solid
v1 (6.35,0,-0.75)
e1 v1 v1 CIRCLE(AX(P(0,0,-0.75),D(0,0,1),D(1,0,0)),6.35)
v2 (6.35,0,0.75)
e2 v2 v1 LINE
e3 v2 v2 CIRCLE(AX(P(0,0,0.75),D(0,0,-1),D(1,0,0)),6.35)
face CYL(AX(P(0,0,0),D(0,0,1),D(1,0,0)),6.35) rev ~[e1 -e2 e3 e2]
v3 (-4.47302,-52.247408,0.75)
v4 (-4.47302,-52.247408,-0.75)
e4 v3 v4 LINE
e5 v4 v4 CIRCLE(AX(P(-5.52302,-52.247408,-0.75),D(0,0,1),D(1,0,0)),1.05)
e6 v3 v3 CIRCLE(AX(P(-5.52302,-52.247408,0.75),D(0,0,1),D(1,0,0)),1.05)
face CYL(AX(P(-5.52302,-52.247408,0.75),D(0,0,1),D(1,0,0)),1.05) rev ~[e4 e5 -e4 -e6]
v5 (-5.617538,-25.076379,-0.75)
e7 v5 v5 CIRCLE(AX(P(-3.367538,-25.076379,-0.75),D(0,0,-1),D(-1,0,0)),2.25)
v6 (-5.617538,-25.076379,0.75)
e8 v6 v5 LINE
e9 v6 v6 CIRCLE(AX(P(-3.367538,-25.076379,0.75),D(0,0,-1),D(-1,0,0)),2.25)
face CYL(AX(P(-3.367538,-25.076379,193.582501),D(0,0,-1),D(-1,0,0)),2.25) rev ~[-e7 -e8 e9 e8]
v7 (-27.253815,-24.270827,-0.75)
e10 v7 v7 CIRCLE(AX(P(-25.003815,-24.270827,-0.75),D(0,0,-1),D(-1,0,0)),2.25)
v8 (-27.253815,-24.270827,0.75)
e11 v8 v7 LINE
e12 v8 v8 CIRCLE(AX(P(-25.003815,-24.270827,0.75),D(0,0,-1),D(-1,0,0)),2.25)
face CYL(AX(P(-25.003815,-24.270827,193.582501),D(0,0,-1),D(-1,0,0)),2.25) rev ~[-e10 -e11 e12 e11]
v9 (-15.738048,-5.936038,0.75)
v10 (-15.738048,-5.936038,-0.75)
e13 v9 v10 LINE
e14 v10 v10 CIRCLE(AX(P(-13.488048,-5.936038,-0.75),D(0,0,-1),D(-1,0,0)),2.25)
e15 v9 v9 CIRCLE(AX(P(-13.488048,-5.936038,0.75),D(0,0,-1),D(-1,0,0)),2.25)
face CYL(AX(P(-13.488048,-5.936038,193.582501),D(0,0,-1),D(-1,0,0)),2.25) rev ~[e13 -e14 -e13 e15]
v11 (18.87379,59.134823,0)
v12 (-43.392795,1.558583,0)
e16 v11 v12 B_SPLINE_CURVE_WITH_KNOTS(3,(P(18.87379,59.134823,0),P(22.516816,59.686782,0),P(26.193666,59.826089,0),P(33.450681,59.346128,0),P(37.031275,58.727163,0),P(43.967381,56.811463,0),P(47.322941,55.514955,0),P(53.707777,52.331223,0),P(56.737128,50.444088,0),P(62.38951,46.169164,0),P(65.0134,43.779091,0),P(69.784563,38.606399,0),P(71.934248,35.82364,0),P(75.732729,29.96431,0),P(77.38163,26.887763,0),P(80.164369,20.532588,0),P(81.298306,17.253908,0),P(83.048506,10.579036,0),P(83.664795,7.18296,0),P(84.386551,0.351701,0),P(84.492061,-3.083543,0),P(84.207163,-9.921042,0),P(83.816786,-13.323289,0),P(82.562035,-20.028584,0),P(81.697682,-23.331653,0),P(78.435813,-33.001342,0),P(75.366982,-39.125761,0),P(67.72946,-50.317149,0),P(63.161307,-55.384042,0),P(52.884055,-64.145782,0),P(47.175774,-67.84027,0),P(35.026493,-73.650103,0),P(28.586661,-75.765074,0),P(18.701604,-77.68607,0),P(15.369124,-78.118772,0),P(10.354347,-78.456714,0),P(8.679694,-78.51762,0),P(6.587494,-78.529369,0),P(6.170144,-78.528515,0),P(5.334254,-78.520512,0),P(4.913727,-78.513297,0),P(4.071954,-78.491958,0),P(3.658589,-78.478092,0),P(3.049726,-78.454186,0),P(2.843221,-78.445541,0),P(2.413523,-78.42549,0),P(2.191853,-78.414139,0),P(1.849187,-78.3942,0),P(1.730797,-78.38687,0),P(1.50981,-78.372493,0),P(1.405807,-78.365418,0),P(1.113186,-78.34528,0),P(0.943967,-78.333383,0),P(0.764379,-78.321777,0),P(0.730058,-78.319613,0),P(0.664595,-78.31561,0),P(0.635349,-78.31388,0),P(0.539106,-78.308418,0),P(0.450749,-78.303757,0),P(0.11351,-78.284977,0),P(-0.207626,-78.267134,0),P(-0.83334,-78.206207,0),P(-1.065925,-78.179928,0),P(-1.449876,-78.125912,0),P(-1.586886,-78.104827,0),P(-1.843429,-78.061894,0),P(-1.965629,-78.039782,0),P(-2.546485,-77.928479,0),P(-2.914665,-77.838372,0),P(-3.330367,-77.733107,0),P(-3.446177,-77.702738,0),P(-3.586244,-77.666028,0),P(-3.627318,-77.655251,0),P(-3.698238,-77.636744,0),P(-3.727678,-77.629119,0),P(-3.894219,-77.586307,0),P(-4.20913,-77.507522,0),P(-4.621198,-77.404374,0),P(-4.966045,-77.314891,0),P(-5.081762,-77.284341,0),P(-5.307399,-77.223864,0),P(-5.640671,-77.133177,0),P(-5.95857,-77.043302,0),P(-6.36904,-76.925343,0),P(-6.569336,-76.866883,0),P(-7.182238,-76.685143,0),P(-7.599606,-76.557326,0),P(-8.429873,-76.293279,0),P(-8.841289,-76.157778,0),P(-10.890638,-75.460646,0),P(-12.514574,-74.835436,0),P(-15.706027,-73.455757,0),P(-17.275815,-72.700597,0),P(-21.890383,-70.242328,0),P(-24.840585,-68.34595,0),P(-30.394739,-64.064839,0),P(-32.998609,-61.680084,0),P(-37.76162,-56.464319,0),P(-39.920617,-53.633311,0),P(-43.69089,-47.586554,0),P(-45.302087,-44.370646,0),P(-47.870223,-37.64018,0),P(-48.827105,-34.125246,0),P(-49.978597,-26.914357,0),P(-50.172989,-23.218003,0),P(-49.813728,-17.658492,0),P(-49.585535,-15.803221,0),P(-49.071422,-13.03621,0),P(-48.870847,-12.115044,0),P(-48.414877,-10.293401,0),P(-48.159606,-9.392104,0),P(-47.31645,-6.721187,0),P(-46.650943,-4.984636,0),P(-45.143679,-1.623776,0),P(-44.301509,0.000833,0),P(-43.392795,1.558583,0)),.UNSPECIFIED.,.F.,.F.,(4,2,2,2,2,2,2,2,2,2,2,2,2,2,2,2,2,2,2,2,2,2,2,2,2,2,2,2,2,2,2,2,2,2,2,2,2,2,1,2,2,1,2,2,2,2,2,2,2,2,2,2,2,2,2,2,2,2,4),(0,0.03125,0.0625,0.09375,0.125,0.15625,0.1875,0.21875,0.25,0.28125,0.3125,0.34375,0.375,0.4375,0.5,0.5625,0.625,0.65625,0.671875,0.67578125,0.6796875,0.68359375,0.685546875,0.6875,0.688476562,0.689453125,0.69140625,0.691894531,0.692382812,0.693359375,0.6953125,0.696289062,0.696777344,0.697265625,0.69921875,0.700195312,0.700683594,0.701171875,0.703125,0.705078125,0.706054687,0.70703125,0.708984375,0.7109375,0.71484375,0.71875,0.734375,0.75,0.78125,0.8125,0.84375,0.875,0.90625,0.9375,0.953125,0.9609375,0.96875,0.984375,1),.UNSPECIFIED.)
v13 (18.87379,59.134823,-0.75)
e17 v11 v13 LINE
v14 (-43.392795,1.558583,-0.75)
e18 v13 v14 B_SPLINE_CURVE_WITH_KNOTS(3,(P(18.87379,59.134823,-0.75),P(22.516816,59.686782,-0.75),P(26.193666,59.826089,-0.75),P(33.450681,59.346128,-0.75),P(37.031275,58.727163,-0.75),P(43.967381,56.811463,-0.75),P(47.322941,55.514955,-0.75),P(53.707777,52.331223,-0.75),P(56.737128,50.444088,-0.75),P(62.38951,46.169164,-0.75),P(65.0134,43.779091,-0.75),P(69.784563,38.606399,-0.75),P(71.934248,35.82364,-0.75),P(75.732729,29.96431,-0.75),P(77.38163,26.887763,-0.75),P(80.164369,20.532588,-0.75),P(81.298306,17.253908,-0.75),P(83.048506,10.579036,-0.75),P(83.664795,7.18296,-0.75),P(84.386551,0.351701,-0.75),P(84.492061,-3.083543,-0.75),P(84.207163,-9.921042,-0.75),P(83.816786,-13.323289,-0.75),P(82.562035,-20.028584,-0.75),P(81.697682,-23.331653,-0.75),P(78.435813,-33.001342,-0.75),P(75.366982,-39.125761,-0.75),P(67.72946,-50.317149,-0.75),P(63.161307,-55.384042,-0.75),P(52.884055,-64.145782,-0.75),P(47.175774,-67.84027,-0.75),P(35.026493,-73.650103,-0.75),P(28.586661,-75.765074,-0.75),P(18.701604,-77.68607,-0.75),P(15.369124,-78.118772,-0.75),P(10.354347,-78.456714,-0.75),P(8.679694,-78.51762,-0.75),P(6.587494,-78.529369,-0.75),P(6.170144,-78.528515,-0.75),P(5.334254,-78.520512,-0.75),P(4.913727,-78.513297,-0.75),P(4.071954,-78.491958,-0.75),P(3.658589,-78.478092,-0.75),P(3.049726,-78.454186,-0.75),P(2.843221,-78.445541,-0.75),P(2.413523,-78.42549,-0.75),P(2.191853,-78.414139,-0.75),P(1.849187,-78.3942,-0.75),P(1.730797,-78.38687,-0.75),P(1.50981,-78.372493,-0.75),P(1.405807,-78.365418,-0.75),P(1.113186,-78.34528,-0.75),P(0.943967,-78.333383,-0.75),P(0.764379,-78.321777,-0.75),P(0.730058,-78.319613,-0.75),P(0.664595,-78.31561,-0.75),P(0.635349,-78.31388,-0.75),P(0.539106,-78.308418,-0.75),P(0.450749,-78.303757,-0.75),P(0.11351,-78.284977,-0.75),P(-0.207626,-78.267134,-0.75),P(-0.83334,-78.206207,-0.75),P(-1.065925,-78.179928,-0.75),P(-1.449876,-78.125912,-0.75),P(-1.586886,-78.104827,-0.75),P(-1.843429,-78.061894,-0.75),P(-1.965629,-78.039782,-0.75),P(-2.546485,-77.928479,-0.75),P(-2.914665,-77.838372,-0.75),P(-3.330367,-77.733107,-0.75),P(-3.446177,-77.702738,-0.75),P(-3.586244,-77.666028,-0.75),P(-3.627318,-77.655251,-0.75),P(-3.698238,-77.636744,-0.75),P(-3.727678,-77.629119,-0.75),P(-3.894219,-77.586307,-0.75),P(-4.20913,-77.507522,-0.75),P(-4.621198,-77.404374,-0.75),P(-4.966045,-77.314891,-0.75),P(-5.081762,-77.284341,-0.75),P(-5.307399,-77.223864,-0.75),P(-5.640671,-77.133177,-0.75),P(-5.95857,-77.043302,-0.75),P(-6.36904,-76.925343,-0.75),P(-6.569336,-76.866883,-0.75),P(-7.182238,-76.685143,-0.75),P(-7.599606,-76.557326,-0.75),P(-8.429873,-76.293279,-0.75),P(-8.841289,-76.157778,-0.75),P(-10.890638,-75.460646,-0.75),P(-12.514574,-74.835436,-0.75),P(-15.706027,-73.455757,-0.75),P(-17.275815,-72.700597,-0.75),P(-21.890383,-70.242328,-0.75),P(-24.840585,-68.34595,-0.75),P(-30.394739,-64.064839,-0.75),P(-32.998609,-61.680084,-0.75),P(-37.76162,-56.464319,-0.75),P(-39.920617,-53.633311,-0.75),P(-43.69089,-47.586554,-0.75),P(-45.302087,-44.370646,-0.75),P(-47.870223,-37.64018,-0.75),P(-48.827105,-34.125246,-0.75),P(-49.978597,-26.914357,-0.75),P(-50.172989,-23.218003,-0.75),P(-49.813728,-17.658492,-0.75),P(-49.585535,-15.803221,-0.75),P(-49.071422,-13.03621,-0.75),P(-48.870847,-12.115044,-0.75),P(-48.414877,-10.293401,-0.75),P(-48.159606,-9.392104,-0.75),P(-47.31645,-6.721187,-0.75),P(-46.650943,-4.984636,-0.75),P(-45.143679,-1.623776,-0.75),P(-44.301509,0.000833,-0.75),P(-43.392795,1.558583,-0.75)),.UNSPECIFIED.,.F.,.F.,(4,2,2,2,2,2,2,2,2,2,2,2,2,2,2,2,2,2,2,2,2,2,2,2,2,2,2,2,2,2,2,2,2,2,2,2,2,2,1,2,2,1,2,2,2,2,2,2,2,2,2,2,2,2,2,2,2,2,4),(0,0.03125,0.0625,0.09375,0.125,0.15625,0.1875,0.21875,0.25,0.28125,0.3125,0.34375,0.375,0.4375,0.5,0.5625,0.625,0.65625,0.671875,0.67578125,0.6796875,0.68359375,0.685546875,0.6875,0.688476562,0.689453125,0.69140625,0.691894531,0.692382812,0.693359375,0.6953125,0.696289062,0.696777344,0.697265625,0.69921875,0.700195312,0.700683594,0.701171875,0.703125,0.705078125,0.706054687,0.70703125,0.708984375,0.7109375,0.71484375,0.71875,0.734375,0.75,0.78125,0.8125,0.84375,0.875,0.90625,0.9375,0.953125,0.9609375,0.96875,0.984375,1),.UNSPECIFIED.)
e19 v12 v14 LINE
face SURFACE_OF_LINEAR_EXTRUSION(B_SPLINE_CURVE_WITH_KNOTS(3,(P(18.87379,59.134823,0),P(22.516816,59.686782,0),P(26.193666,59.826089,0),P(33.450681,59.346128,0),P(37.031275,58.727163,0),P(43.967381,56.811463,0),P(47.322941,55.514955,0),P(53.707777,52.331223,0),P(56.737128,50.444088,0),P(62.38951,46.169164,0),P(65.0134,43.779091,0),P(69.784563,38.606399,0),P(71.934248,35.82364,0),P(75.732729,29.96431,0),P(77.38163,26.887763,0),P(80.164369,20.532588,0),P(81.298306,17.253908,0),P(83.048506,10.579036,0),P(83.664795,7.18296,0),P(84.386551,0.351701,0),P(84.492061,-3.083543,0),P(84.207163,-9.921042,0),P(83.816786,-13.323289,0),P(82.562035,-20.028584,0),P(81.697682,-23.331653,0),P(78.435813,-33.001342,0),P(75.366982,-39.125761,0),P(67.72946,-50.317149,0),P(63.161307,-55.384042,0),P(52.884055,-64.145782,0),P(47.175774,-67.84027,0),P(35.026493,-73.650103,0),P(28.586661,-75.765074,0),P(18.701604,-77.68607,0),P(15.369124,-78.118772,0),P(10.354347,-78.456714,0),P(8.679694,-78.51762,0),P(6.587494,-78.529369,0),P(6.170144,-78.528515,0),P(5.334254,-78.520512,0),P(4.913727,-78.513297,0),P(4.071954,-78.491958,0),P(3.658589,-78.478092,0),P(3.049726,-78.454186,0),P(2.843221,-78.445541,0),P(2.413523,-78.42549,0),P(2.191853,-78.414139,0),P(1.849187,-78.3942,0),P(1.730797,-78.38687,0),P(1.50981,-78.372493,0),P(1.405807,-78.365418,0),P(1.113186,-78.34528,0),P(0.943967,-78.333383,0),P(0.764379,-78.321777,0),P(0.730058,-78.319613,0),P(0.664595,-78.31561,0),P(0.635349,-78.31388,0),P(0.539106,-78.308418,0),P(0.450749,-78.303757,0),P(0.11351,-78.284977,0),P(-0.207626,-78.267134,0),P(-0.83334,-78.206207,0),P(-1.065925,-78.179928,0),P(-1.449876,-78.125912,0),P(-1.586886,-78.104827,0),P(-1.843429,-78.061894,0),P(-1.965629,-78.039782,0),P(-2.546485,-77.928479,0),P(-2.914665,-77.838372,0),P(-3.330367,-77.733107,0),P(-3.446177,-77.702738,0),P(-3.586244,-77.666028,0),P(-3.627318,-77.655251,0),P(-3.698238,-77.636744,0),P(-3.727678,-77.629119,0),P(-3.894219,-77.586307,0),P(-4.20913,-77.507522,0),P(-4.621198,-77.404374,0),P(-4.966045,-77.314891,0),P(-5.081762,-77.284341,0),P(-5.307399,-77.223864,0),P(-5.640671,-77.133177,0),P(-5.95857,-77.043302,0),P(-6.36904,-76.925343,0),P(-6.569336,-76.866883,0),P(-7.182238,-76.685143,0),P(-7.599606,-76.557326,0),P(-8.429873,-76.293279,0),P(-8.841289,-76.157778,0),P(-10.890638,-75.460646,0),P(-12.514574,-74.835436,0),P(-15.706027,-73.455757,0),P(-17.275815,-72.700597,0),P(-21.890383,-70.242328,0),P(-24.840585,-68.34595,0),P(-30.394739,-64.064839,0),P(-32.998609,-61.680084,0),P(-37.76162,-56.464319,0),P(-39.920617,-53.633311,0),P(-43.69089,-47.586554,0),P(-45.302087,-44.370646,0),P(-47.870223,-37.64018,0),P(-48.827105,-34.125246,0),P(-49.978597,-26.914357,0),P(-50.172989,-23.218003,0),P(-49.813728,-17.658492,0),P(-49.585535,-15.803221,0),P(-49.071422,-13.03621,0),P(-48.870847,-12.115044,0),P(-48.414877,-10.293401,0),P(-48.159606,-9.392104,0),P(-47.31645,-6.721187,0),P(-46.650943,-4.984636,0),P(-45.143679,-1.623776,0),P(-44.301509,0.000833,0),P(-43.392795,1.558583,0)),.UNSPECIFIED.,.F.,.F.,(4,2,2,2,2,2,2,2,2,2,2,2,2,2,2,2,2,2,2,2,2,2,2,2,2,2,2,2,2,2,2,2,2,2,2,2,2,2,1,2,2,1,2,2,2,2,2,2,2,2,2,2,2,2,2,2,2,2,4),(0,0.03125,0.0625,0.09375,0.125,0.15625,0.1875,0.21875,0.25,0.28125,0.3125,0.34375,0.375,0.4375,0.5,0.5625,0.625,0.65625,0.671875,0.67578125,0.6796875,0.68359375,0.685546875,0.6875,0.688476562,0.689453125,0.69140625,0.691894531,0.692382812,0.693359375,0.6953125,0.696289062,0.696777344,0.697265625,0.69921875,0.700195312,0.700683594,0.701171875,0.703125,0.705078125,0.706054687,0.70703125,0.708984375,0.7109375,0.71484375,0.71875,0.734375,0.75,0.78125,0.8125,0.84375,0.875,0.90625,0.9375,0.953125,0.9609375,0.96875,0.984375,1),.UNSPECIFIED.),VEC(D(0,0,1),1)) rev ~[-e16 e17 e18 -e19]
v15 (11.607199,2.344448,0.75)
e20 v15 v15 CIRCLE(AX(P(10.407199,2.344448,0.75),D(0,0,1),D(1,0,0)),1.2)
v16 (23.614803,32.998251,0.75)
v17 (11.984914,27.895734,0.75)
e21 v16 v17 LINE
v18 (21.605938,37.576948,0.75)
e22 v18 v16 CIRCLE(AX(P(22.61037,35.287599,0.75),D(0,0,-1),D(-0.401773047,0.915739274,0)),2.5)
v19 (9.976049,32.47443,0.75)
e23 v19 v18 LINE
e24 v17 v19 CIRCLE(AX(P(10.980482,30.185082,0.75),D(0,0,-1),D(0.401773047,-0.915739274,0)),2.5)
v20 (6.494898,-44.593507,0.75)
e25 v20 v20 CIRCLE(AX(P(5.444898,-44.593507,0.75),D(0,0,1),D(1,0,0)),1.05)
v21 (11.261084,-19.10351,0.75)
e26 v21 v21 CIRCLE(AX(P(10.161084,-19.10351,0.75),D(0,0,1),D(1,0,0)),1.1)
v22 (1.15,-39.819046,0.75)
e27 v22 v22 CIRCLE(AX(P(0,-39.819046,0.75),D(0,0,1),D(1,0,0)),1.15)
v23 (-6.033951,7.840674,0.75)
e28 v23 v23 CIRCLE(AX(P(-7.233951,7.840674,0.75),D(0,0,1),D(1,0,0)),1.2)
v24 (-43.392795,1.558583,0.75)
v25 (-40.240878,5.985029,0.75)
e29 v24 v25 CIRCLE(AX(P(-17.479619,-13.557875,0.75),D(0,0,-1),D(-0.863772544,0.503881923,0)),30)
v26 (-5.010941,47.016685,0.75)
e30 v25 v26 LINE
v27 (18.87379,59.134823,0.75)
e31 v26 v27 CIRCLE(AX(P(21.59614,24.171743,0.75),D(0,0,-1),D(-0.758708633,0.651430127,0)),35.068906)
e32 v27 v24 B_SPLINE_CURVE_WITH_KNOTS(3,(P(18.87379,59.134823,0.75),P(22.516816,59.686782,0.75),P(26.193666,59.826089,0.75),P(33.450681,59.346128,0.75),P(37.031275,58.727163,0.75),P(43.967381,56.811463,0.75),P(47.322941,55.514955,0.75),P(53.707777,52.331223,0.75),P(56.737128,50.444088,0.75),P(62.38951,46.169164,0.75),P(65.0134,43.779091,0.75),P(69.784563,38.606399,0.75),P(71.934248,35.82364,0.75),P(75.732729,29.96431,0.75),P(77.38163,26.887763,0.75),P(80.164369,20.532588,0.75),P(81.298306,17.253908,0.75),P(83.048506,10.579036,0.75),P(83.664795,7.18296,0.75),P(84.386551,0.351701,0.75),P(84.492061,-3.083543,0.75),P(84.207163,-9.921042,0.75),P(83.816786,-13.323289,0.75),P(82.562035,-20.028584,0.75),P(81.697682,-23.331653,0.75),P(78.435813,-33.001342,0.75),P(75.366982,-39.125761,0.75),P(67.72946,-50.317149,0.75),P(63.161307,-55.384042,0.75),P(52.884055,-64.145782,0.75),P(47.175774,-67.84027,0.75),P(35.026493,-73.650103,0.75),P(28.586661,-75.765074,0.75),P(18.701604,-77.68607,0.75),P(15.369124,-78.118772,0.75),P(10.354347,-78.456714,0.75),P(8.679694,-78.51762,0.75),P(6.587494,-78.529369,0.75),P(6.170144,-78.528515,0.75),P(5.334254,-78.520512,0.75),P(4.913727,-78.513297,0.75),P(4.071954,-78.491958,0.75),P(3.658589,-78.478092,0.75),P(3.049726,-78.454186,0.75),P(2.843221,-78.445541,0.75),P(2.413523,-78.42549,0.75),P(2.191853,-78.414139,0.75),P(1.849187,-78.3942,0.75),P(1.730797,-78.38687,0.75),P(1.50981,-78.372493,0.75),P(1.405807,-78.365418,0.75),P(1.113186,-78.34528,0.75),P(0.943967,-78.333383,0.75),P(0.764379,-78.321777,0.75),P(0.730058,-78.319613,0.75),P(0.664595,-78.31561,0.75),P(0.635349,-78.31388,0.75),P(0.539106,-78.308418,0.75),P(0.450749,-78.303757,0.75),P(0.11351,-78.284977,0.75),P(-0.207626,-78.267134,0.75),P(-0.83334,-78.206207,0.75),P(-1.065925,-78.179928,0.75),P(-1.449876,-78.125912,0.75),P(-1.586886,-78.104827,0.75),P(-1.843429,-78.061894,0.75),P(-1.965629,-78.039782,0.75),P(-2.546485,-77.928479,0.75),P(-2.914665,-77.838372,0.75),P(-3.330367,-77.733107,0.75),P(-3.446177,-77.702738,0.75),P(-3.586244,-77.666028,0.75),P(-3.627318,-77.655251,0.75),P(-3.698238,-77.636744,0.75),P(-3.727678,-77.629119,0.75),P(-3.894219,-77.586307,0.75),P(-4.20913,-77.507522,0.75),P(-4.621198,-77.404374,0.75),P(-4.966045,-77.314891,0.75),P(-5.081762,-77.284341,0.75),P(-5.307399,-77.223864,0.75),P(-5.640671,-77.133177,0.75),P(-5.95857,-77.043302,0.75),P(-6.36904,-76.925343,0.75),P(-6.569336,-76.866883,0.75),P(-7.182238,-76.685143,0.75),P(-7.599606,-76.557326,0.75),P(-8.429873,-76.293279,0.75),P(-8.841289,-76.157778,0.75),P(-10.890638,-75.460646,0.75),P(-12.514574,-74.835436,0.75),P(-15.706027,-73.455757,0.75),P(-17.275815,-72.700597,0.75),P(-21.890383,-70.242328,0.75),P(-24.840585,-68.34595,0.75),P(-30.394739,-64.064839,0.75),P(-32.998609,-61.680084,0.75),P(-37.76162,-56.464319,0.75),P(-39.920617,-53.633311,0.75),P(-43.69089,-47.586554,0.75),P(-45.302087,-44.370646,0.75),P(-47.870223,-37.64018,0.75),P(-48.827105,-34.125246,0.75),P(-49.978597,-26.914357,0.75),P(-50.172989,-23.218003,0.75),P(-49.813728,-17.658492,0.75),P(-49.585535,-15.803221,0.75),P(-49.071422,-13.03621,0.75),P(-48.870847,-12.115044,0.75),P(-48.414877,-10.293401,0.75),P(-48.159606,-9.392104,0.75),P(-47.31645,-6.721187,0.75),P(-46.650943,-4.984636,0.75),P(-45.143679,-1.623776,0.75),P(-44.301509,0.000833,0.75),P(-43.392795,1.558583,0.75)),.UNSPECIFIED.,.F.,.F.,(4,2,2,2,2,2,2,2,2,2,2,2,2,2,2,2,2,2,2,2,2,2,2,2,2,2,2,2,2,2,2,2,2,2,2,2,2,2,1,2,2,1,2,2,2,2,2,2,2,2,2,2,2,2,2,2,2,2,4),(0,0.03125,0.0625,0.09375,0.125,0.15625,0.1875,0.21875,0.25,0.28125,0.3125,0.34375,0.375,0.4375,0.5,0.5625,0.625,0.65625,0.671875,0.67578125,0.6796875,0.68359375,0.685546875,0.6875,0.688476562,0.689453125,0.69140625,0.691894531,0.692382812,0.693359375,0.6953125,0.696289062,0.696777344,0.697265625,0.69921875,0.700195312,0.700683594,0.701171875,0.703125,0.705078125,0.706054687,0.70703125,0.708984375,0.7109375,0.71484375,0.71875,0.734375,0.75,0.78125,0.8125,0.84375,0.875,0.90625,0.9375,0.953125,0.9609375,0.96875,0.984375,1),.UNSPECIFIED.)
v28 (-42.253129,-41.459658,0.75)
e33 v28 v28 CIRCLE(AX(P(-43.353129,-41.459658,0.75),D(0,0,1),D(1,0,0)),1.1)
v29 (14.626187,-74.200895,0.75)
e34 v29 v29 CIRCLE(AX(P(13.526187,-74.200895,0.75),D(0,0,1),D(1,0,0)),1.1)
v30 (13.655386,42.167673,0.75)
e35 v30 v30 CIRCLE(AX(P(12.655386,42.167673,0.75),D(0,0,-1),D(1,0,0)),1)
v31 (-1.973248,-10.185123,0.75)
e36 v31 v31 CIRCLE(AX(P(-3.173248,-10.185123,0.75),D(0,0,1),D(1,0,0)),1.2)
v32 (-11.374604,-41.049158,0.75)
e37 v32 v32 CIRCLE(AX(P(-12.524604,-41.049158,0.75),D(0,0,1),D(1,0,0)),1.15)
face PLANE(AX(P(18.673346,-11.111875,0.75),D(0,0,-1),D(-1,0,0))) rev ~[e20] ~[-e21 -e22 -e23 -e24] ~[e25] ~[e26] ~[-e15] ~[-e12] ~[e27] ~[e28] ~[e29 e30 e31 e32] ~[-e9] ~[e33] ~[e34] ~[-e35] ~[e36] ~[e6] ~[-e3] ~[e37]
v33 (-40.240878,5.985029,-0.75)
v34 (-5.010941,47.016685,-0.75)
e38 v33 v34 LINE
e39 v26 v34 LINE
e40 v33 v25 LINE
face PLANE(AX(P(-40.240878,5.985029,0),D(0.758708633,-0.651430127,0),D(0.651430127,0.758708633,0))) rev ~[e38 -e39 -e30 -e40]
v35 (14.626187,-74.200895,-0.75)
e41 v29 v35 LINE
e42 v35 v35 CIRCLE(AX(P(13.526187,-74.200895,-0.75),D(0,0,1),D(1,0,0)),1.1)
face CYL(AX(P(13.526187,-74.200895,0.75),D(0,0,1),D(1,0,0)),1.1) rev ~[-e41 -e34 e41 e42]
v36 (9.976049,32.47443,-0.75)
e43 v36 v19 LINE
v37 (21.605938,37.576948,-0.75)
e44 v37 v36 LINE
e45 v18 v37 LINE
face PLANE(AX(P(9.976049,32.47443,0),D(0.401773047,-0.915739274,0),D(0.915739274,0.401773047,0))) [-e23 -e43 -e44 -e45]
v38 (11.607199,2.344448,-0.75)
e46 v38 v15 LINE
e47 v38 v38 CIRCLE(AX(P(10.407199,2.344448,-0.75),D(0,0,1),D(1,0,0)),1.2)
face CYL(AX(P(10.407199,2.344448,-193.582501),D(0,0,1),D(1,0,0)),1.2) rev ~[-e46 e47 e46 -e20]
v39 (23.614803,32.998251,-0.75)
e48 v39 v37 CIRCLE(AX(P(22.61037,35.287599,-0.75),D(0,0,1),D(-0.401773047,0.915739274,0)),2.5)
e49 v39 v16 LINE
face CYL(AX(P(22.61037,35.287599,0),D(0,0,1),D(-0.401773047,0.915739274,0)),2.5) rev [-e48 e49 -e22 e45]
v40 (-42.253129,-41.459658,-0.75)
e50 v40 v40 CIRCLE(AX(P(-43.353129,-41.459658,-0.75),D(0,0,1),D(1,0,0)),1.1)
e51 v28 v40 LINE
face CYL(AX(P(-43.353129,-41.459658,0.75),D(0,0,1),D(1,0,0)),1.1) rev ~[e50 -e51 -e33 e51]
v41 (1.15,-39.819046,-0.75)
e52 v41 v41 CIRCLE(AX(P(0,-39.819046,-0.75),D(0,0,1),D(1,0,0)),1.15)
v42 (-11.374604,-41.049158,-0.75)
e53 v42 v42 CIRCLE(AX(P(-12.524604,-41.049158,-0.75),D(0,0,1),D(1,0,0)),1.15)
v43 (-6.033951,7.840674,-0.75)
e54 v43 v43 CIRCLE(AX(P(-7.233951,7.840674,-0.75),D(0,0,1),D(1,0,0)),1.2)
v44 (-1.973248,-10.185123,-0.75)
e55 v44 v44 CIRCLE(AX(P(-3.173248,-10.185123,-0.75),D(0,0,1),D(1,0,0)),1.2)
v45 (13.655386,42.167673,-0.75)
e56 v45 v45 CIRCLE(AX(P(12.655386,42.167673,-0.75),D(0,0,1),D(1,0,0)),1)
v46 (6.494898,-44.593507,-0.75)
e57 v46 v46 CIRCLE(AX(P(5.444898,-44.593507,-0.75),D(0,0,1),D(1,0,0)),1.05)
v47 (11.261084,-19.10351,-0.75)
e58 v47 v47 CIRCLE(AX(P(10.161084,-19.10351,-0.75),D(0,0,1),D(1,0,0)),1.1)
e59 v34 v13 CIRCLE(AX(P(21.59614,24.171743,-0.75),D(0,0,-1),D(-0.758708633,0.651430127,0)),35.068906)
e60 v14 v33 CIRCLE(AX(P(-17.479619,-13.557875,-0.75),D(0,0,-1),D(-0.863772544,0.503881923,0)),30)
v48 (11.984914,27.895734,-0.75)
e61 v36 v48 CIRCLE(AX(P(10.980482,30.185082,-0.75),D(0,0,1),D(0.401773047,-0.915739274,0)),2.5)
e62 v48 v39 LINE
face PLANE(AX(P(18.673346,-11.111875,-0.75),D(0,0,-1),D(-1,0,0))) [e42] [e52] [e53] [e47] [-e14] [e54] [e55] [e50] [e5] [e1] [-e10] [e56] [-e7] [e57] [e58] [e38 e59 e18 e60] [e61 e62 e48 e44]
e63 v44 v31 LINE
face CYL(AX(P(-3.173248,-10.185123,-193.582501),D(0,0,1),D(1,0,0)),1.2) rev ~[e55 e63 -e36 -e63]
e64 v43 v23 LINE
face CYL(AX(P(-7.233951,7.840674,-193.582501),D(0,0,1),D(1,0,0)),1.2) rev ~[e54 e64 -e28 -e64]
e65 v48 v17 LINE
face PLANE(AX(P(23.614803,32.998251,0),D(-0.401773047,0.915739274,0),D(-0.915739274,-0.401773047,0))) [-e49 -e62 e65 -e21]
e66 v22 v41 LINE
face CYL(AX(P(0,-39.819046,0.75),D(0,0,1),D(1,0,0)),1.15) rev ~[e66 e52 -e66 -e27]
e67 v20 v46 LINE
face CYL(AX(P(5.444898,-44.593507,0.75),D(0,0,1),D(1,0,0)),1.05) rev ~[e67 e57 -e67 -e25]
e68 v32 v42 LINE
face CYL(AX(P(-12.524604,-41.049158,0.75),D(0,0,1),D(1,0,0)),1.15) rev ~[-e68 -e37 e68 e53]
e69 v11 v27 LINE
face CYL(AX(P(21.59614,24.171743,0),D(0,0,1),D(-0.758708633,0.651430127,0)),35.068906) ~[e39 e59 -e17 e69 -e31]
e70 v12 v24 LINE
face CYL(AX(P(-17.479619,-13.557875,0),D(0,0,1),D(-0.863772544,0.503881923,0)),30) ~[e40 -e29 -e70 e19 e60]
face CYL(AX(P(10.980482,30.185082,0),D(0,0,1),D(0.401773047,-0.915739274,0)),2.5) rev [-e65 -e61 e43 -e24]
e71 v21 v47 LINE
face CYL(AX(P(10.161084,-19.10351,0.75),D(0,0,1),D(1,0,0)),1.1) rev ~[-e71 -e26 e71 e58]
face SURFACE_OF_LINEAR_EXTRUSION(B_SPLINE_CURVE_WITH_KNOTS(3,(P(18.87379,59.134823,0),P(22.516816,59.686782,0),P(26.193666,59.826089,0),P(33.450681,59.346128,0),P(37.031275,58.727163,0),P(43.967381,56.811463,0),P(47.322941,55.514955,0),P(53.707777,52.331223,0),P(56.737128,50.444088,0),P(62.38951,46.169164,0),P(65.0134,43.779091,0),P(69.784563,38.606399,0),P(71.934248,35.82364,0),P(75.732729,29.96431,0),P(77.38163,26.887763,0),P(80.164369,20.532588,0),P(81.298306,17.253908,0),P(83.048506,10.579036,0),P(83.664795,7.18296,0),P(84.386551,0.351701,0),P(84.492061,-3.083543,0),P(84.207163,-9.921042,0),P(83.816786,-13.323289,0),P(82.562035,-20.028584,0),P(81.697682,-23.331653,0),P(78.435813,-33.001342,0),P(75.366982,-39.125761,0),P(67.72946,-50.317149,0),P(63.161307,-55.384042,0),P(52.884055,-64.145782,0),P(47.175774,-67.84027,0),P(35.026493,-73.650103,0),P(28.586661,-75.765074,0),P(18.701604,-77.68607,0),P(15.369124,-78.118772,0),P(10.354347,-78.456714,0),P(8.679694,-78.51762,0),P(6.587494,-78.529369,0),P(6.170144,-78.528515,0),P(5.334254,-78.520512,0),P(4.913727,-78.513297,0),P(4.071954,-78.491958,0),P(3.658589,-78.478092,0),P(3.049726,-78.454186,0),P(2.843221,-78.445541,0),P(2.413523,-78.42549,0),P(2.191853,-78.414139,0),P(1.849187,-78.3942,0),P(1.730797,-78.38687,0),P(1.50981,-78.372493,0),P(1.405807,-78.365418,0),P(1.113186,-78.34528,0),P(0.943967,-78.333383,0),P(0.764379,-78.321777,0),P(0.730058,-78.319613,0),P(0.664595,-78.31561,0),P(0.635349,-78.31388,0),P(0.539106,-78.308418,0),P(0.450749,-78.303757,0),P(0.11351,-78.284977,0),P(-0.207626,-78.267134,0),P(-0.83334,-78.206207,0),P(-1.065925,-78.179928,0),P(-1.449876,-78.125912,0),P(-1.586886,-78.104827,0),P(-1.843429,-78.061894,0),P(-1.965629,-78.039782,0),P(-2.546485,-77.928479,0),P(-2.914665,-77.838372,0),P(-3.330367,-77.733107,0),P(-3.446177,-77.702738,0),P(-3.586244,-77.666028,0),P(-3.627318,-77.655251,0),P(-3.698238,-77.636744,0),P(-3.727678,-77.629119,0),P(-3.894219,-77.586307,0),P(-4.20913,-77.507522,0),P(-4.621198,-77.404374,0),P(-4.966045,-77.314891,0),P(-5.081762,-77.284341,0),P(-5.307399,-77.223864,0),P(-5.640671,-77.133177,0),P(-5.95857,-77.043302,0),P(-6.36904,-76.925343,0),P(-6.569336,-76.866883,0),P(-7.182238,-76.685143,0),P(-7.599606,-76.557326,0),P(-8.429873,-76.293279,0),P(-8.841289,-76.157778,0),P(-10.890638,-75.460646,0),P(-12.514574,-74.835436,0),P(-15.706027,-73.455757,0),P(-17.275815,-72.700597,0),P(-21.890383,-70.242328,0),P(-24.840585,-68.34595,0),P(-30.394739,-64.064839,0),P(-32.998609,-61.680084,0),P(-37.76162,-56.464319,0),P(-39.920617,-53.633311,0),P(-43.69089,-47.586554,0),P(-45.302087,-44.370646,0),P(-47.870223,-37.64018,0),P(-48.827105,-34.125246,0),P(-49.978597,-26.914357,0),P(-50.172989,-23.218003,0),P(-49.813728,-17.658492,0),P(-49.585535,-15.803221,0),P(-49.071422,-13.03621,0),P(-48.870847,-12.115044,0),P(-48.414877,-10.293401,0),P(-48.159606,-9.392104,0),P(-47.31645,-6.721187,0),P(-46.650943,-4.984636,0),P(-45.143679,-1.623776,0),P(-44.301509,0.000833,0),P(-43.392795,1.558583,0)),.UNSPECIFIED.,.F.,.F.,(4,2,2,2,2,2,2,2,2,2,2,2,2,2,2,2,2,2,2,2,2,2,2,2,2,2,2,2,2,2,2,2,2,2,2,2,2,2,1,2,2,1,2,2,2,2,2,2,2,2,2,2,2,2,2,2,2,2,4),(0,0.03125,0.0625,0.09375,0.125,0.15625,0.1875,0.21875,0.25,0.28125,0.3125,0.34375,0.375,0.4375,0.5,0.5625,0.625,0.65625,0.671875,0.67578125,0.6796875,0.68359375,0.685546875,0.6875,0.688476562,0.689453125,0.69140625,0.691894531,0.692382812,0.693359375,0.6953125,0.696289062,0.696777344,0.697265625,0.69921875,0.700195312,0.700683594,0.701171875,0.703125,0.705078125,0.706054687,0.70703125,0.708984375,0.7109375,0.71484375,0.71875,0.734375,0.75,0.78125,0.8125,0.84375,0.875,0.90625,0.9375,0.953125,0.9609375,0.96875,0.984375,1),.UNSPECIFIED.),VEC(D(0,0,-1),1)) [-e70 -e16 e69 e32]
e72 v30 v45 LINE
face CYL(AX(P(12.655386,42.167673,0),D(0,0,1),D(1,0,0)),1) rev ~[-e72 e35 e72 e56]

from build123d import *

# Parameters (mm, degrees)
SKETCH1_R               = 6.35
BOSS_EXTRUDE1_DEPTH     = 0.75
CUT_EXTRUDE1_DEPTH      = 102.161590478
CUT_EXTRUDE1_DEPTH_BACK = 102.161590478
FILLET1_R               = 20
BOSS_EXTRUDE2_DEPTH     = 0.75
SKETCH7_R               = 6.35
SKETCH7_R_2             = 3.175
BOSS_EXTRUDE3_DEPTH     = 0.75
SKETCH8_R               = 1
SKETCH8_R_2             = 6.35
CUT_EXTRUDE2_DEPTH      = 116.292862823
CUT_EXTRUDE2_DEPTH_BACK = 116.292862823
M4_CLEARANCE_HOLE1_D    = 4.5
M2_CLEARANCE_HOLE1_D    = 2.4
SKETCH15_R              = 1.1
CUT_EXTRUDE3_DEPTH      = 10
SKETCH16_R              = 1.05
SKETCH16_R_2            = 1.1
CUT_EXTRUDE4_DEPTH      = 116.300180911
SKETCH18_R              = 1.15
CUT_EXTRUDE5_DEPTH      = 116.300180911


with BuildPart() as part:
    # Sketch1 → Boss-Extrude1 (new, symmetric)
    with BuildSketch(Plane.XY):
        with BuildLine():
            ThreePointArc((11.984914181, 27.895733584), (8.691133377, 29.180649151), (9.976048944, 32.474429955))
            Line((9.976048944, 32.474429955), (12.234616167, 33.46535768))
            ThreePointArc((12.234616167, 33.46535768), (8.26006825, 34.969173712), (5.615201844, 38.295308932))
            Line((5.615201844, 38.295308932), (3.856119442, 42.419673356))
            add(Edge.make_bspline(
                [(3.856119442, 42.419673356), (3.804269194, 42.380475154), (3.486745937, 42.138972836), (2.912619563, 41.685826384), (2.149082762, 41.044776761), (1.408732666, 40.385653153), (0.69201842, 39.710962437), (-0.000702823, 39.023274092), (-0.669224606, 38.325164066), (-1.313490613, 37.619209289), (-1.933594741, 36.907981167), (-2.529780734, 36.194039342), (-3.102441662, 35.479925366), (-3.652119172, 34.768156406), (-4.179502537, 34.061218936), (-4.68542751, 33.361562432), (-5.170874981, 32.671593072), (-5.636969475, 31.993667421), (-6.084977486, 31.330086125), (-6.5163057, 30.68308757), (-6.932499191, 30.054841594), (-7.335239472, 29.447442991), (-7.726343211, 28.862905788), (-8.107759261, 28.30315506), (-8.481572996, 27.770028153), (-8.850055929, 27.265150233), (-9.21599154, 26.789707359), (-9.58007402, 26.342396401), (-9.943199031, 25.921274986), (-10.306211946, 25.524302901), (-10.669815304, 25.149428396), (-11.03457423, 24.794597749), (-11.400917427, 24.457759077), (-11.769139802, 24.136868148), (-12.139404915, 23.829894257), (-12.511747444, 23.534826559), (-12.886075425, 23.249680558), (-13.262172288, 22.972504592), (-13.639698706, 22.701386132), (-14.018194373, 22.4344578), (-14.397079826, 22.169903041), (-14.775658393, 21.905961469), (-15.153118349, 21.640933911), (-15.528535328, 21.37318718), (-15.900874865, 21.101158728), (-16.268995598, 20.823360748), (-16.631651048, 20.538385549), (-16.987497448, 20.244905703), (-17.335071725, 19.941700072), (-17.674482118, 19.629485326), (-18.005889299, 19.308945872), (-18.329486913, 18.98074786), (-18.645506177, 18.6455329), (-18.954213469, 18.303917657), (-19.255909475, 17.956492143), (-19.550927855, 17.603818409), (-19.839633983, 17.246429189), (-20.122423608, 16.884826615), (-20.39972148, 16.519480973), (-20.671979932, 16.15082951), (-20.93967742, 15.77927529), (-21.203317027, 15.405186109), (-21.463424922, 15.028893458), (-21.720548787, 14.650691546), (-21.975256201, 14.270836377), (-22.228133, 13.889544888), (-22.479781587, 13.506994147), (-22.730819224, 13.123320602), (-22.981876279, 12.738619403), (-23.233594452, 12.35294377), (-23.486624965, 11.966304432), (-23.741626724, 11.578669117), (-23.999264462, 11.189962103), (-24.260206854, 10.800063825), (-24.52512461, 10.408810538), (-24.794688561, 10.015994037), (-25.069567717, 9.621361426), (-25.350427363, 9.224614974), (-25.637926993, 8.8254119), (-25.932718851, 8.423364715), (-26.235444149, 8.018039723), (-26.546738212, 7.608962846), (-26.867193334, 7.195608336), (-27.197393741, 6.777566684), (-27.537037782, 6.353934602), (-27.885559202, 5.923803469), (-28.242374703, 5.486366009), (-28.606855737, 5.040842301), (-28.978345064, 4.586492757), (-29.356154138, 4.122615768), (-29.739565815, 3.648549546), (-30.127835637, 3.163672741), (-30.520193566, 2.667405334), (-30.915845631, 2.159209384), (-31.313975642, 1.638589743), (-31.713746908, 1.10509472), (-32.114303997, 0.558316687), (-32.514774496, -0.002107372), (-32.914270801, -0.576495363), (-33.311891916, -1.165119646), (-33.70672526, -1.768206653), (-34.097848491, -2.385936568), (-34.484331334, -3.01844306), (-34.865237414, -3.665813085), (-35.239626095, -4.328086735), (-35.606554319, -5.00525716), (-35.965078448, -5.697270543), (-36.314256102, -6.404026134), (-36.653147994, -7.125376348), (-36.98081976, -7.861126926), (-37.296343783, -8.611037148), (-37.598801011, -9.374820113), (-37.887282738, -10.15214308), (-38.160892488, -10.942627847), (-38.418747446, -11.745851279), (-38.659981522, -12.561345551), (-38.883742182, -13.388599746), (-39.089211497, -14.227059816), (-39.27554787, -15.076191303), (-39.442240692, -15.935443066), (-39.58900499, -16.804297383), (-39.715531283, -17.682274795), (-39.821534024, -18.56888584), (-39.906736403, -19.463633732), (-39.970874682, -20.366013757), (-40.01369729, -21.27551381), (-40.034965324, -22.191614638), (-40.034452659, -23.113790166), (-40.011946156, -24.041507803), (-39.967245835, -24.974228766), (-39.900165044, -25.911408403), (-39.810530622, -26.852496518), (-39.698183052, -27.796937709), (-39.56297661, -28.744171699), (-39.4047795, -29.693633681), (-39.223473982, -30.64475466), (-39.018956498, -31.596961802), (-38.791137779, -32.549678783), (-38.539942955, -33.502326148), (-38.265311644, -34.454321664), (-37.967198044, -35.405080681), (-37.645571006, -36.354016496), (-37.300414107, -37.300540716), (-36.931725709, -38.244063627), (-36.539519007, -39.18399456), (-36.123822074, -40.119742265), (-35.684677893, -41.050715279), (-35.222144381, -41.976322302), (-34.736294403, -42.89597257), (-34.227215775, -43.809076229), (-33.695011264, -44.715044715), (-33.139798572, -45.613291121), (-32.561710315, -46.503230581), (-31.960893988, -47.384280643), (-31.337511928, -48.255861642), (-30.69174126, -49.117397078), (-30.023773839, -49.96831399), (-29.333816181, -50.808043326), (-28.622089382, -51.636020317), (-27.888829033, -52.451684847), (-27.134285123, -53.25448182), (-26.358721931, -54.04386153), (-25.562417912, -54.819280022), (-24.745665571, -55.580199454), (-23.908771332, -56.326088459), (-23.052055394, -57.0564225), (-22.175851579, -57.770684224), (-21.280507172, -58.468363812), (-20.366382752, -59.148959324), (-19.433852012, -59.811977048), (-18.483301577, -60.456931829), (-17.515130802, -61.083347415), (-16.529751575, -61.690756781), (-15.527588097, -62.278702456), (-14.50907667, -62.846736843), (-13.474665463, -63.39442255), (-12.424814268, -63.921332635), (-11.359994294, -64.427051169), (-10.280687768, -64.911172569), (-9.187388219, -65.373305515), (-8.080598179, -65.813059652), (-6.960836498, -66.230096831), (-5.828609627, -66.623940268), (-4.684517934, -66.994691537), (-3.528855652, -67.340343195), (-2.3631095, -67.666856553), (-1.184338477, -67.950378607), (-0.400093515, -68.169065005), (0, -68.230921715)],
                knots=[0.595074645, 0.595074645, 0.595074645, 0.595074645, 0.59561552, 0.598394199, 0.601160164, 0.603910525, 0.606641733, 0.609350191, 0.612032273, 0.614684334, 0.617302722, 0.619883791, 0.622423916, 0.624919509, 0.627367038, 0.629763043, 0.632104166, 0.634387177, 0.636609005, 0.638766786, 0.640857908, 0.642880081, 0.644831406, 0.646710483, 0.648516525, 0.650249514, 0.65191136, 0.653508519, 0.655048349, 0.65653798, 0.657984241, 0.659393583, 0.66077201, 0.662125022, 0.663457568, 0.664774018, 0.666078151, 0.667373165, 0.668661696, 0.669945853, 0.671227263, 0.672507127, 0.673786273, 0.67506522, 0.676344239, 0.677623416, 0.678902717, 0.68018205, 0.681461324, 0.682740438, 0.684019262, 0.685297659, 0.686575488, 0.687852615, 0.689128915, 0.690404281, 0.691678632, 0.692951916, 0.694224122, 0.695495279, 0.696765474, 0.698034846, 0.699303605, 0.70057203, 0.70184048, 0.703109399, 0.704379325, 0.705650892, 0.706924838, 0.708202013, 0.709483377, 0.710770009, 0.712063109, 0.713363997, 0.714674119, 0.715995039, 0.717328447, 0.718676146, 0.720040056, 0.721422204, 0.722824718, 0.724249822, 0.725699824, 0.727177002, 0.72868281, 0.730218172, 0.731783831, 0.733380363, 0.735008197, 0.736667628, 0.738358831, 0.740081872, 0.741836722, 0.743623264, 0.745441305, 0.747290584, 0.749170776, 0.751081502, 0.753022336, 0.754992805, 0.756992401, 0.759020578, 0.761076761, 0.763160347, 0.76527071, 0.767407202, 0.769569155, 0.771755887, 0.7739667, 0.776200882, 0.778457713, 0.780736462, 0.783036392, 0.785356757, 0.787696808, 0.790055792, 0.792432952, 0.794827532, 0.797238799, 0.799666426, 0.802110394, 0.804570687, 0.807047284, 0.809540165, 0.812049305, 0.814574675, 0.817116246, 0.819673984, 0.822247852, 0.824837811, 0.82744382, 0.830065834, 0.832703806, 0.835357687, 0.838027424, 0.840712962, 0.843414244, 0.84613121, 0.848863798, 0.851611942, 0.854375576, 0.857154631, 0.859949033, 0.862758708, 0.865583582, 0.868423573, 0.871278601, 0.874148584, 0.877033434, 0.879933066, 0.882847387, 0.885776307, 0.888719732, 0.891677564, 0.894649707, 0.897636058, 0.900636516, 0.903650977, 0.906679333, 0.909721476, 0.912777297, 0.915846682, 0.918929518, 0.922025687, 0.925135072, 0.928257554, 0.931393009, 0.934541315, 0.937702347, 0.940875975, 0.944062073, 0.947260508, 0.950471149, 0.95369386, 0.956928506, 0.960174949, 0.96343305, 0.966702667, 0.969983657, 0.973275876, 0.976579178, 0.979893415, 0.983218438, 0.986554095, 0.989900235, 0.993256703, 0.996623344, 1, 1, 1, 1], degree=3))
            add(Edge.make_bspline(
                [(0, -68.230921715), (0.393333706, -68.291733321), (1.194961176, -68.321276753), (2.388868431, -68.414811628), (3.58891617, -68.470136134), (4.791044831, -68.510535556), (5.995946289, -68.52954927), (7.203026535, -68.528713614), (8.412027616, -68.507423129), (9.62259203, -68.465654591), (10.83437986, -68.403235569), (12.047037443, -68.320041284), (13.260205927, -68.215942066), (14.473519127, -68.090817818), (15.686604264, -67.944554476), (16.899081946, -67.777045295), (18.110566359, -67.588190842), (19.320665416, -67.377899329), (20.528980925, -67.146086849), (21.73510877, -66.892677633), (22.938639087, -66.6176043), (24.139156466, -66.320808097), (25.336240146, -66.002239142), (26.529464226, -65.661856654), (27.718397887, -65.299629187), (28.90260561, -64.915534847), (30.081647414, -64.509561514), (31.255079097, -64.081707052), (32.42245248, -63.631979515), (33.58331567, -63.160397343), (34.737213315, -62.666989561), (35.883686879, -62.151795956), (37.022274916, -61.614867262), (38.152513354, -61.056265327), (39.273935784, -60.476063279), (40.386073758, -59.87434568), (41.488457085, -59.251208675), (42.580614147, -58.606760131), (43.662072205, -57.941119771), (44.732357722, -57.254419292), (45.790996682, -56.546802486), (46.837514925, -55.81842534), (47.871438475, -55.069456136), (48.89229388, -54.300075538), (49.899608554, -53.51047667), (50.892911122, -52.700865183), (51.871731772, -51.87145932), (52.835602603, -51.022489959), (53.784057989, -50.154200657), (54.71663493, -49.26684768), (55.632873421, -48.360700021), (56.532316811, -47.436039411), (57.414512174, -46.493160317), (58.279010671, -45.532369935), (59.125367928, -44.553988165), (59.953144401, -43.558347582), (60.761905749, -42.545793391), (61.55122321, -41.516683378), (62.320673971, -40.471387842), (63.069841543, -39.410289525), (63.798316132, -38.333783527), (64.505695017, -37.242277204), (65.191582915, -36.13619007), (65.85559236, -35.015953676), (66.497344063, -33.882011479), (67.11646729, -32.734818707), (67.71260022, -31.574842209), (68.285390316, -30.402560293), (68.834494677, -29.218462553), (69.359580408, -28.023049692), (69.860324965, -26.816833323), (70.336416512, -25.60033577), (70.787554269, -24.374089852), (71.213448854, -23.13863866), (71.613822626, -21.894535318), (71.988410015, -20.642342743), (72.336957858, -19.382633384), (72.659225719, -18.115988959), (72.954986211, -16.843000179), (73.224025309, -15.564266461), (73.466142659, -14.28039563), (73.681151874, -12.992003617), (73.868880836, -11.699714142), (74.029171977, -10.404158388), (74.161882563, -9.10597467), (74.266884966, -7.805808087), (74.344066927, -6.504310174), (74.393331816, -5.202138538), (74.414598879, -3.89995649), (74.407803478, -2.598432666), (74.372897323, -1.29824064), (74.309848696, -5.853e-05), (74.218642658, 1.295431404), (74.099281259, 2.587543173), (73.95178373, 3.875587471), (73.776186663, 5.158872107), (73.572544188, 6.43670243), (73.340928136, 7.708381771), (73.081428188, 8.973211889), (72.794152019, 10.230493418), (72.47922543, 11.479526328), (72.13679246, 12.719610386), (71.767015501, 13.950045625), (71.37007539, 15.170132817), (70.946171493, 16.379173951), (70.495521777, 17.576472716), (70.018362872, 18.761334989), (69.514950114, 19.933069325), (68.985557583, 21.090987453), (68.430478125, 22.234404772), (67.850023359, 23.362640855), (67.244523678, 24.47501995), (66.614328227, 25.570871489), (65.959804877, 26.649530597), (65.281340181, 27.710338599), (64.579339317, 28.752643533), (63.85422602, 29.775800665), (63.106442497, 30.779173), (62.33644933, 31.762131799), (61.544725366, 32.724057086), (60.731767601, 33.66433818), (59.898090995, 34.582374149), (59.044228508, 35.477574541), (58.170730235, 36.349359075), (57.278166357, 37.197160694), (56.367121668, 38.020410915), (55.438270074, 38.818621759), (54.492318121, 39.591335254), (53.529982536, 40.3381068), (52.551992493, 41.058512637), (51.559087829, 41.752148676), (50.552018856, 42.418631155), (49.531545735, 43.057596786), (48.498437965, 43.668703015), (47.453473832, 44.251628246), (46.397439863, 44.806072049), (45.331130274, 45.331755356), (44.255346411, 45.828420647), (43.17089619, 46.295832116), (42.078593533, 46.733775825), (40.979257798, 47.142059848), (39.873713209, 47.520514394), (38.762788284, 47.868991924), (37.647315256, 48.187367242), (36.528129497, 48.475537585), (35.406068937, 48.733422689), (34.281973488, 48.960964845), (33.156684455, 49.158128938), (32.031043959, 49.324902476), (30.905894352, 49.461295599), (29.78207764, 49.567341079), (28.66043489, 49.643094299), (27.541805663, 49.688633226), (26.427027423, 49.704058363), (25.316934962, 49.689492689), (24.212359828, 49.645081585), (23.114129743, 49.570992746), (22.023068037, 49.46741608), (20.939993076, 49.334563587), (19.865717696, 49.172669234), (19.050939925, 49.026743912), (18.594215776, 48.936446476), (18.491236259, 48.915651329)],
                knots=[0, 0, 0, 0, 0.003319606, 0.00664483, 0.00997572, 0.013312315, 0.016654652, 0.020002764, 0.023356679, 0.026716422, 0.030082012, 0.033453467, 0.036830797, 0.040214011, 0.043603114, 0.046998106, 0.050398984, 0.05380574, 0.057218364, 0.060636841, 0.064061153, 0.067491279, 0.070927192, 0.074368865, 0.077816264, 0.081269354, 0.084728096, 0.088192446, 0.09166236, 0.095137787, 0.098618675, 0.102104968, 0.105596607, 0.10909353, 0.112595671, 0.116102963, 0.119615332, 0.123132706, 0.126655005, 0.130182149, 0.133714056, 0.137250637, 0.140791804, 0.144337465, 0.147887524, 0.151441884, 0.155000443, 0.158563099, 0.162129745, 0.165700272, 0.169274569, 0.172852522, 0.176434014, 0.180018926, 0.183607137, 0.187198521, 0.190792953, 0.194390304, 0.197990441, 0.201593231, 0.205198539, 0.208806224, 0.212416148, 0.216028167, 0.219642135, 0.223257906, 0.226875331, 0.230494258, 0.234114533, 0.237736001, 0.241358506, 0.244981886, 0.248605983, 0.252230632, 0.255855669, 0.259480928, 0.263106241, 0.266731437, 0.270356345, 0.273980794, 0.277604607, 0.281227611, 0.284849627, 0.288470478, 0.292089983, 0.295707963, 0.299324234, 0.302938615, 0.306550921, 0.310160967, 0.313768569, 0.317373538, 0.320975689, 0.324574833, 0.328170782, 0.331763348, 0.335352341, 0.338937573, 0.342518853, 0.346095993, 0.349668803, 0.353237093, 0.356800674, 0.360359359, 0.363912958, 0.367461284, 0.37100415, 0.37454137, 0.37807276, 0.381598135, 0.385117313, 0.388630113, 0.392136355, 0.395635862, 0.399128458, 0.402613969, 0.406092224, 0.409563054, 0.413026294, 0.416481778, 0.419929348, 0.423368847, 0.426800121, 0.43022302, 0.4336374, 0.437043112, 0.440439966, 0.443827754, 0.447206268, 0.450575308, 0.453934675, 0.457284173, 0.460623612, 0.463952804, 0.467271567, 0.470579721, 0.473877092, 0.477163509, 0.480438807, 0.483702825, 0.486955407, 0.490196401, 0.493425661, 0.496643048, 0.499848424, 0.50304166, 0.506222633, 0.509391223, 0.512547319, 0.515690814, 0.518821608, 0.521939609, 0.52504473, 0.528136891, 0.531216019, 0.53428205, 0.537334925, 0.540374595, 0.543401017, 0.546414157, 0.549413988, 0.550288202, 0.550288202, 0.550288202, 0.550288202], degree=3))
            Line((18.491236259, 48.915651329), (20.341962163, 44.576418519))
            ThreePointArc((20.341962163, 44.576418519), (20.922430656, 40.447066292), (19.347370503, 36.586019931))
            Line((19.347370503, 36.586019931), (21.605937727, 37.576947657))
            ThreePointArc((21.605937727, 37.576947657), (24.899718531, 36.29203209), (23.614802964, 32.998251286))
            Line((23.614802964, 32.998251286), (11.984914181, 27.895733584))
        make_face()
        Circle(SKETCH1_R, mode=Mode.SUBTRACT)
    extrude(amount=BOSS_EXTRUDE1_DEPTH, both=True)

    # Sketch2 → Cut-Extrude1 (cut, two sides)
    with BuildSketch(Plane.XY) as cut_extrude1_sk:
        Polygon((-35.700141367, -3.650772794), (-7.072677907, 43.311946145), (4.622228263, 43.311946145), (7.657062795, 40.706225638), (-41.200196706, -16.19692185), align=None)
    extrude(amount=CUT_EXTRUDE1_DEPTH, mode=Mode.SUBTRACT)
    extrude(cut_extrude1_sk.sketch, amount=-CUT_EXTRUDE1_DEPTH_BACK, mode=Mode.SUBTRACT)

    # Fillet1
    fillet1_edges = [part.edges().sort_by_distance(p)[0] for p in [
        (-38.918855467, -13.539885857, -0.3749997),
    ]]
    fillet(fillet1_edges, radius=FILLET1_R)

    # Sketch6 → Boss-Extrude2 (add, symmetric)
    with BuildSketch(Plane.XY):
        with BuildLine():
            Line((-40.240877686, 5.985028621), (-5.010941183, 47.016684781))
            ThreePointArc((-5.010941183, 47.016684781), (5.728997706, 55.445724795), (18.87378975, 59.134822925))
            add(Edge.make_bspline(
                [(18.87378975, 59.134822925), (22.516816499, 59.686781934), (26.193665623, 59.826089241), (33.45068059, 59.346128102), (37.03127521, 58.727162925), (43.967380955, 56.811462619), (47.322941455, 55.514954983), (53.707777021, 52.33122275), (56.737127918, 50.44408812), (62.389510018, 46.169164114), (65.013399799, 43.779091446), (69.784563311, 38.606399125), (71.934248393, 35.823640098), (75.732728508, 29.964309697), (77.38163003, 26.887763022), (80.164369364, 20.532587656), (81.298305727, 17.253908281), (83.048505582, 10.579036383), (83.664794752, 7.182960151), (84.3865512, 0.351701111), (84.49206067, -3.083543307), (84.207163067, -9.921041673), (83.816786418, -13.323289058), (82.562035426, -20.02858371), (81.697681537, -23.331653399), (78.43581289, -33.001341548), (75.366981688, -39.125760708), (67.729460455, -50.317148913), (63.161306968, -55.384041979), (52.884055324, -64.145782257), (47.175773764, -67.840270189), (35.026492532, -73.650102546), (28.586660871, -75.765074216), (18.701604185, -77.686070484), (15.369124025, -78.118771701), (10.354347453, -78.456714462), (8.679694279, -78.517619619), (6.587494274, -78.529369489), (6.170144087, -78.528514895), (5.334254192, -78.520512469), (4.913726597, -78.513297138), (4.071953989, -78.491958341), (3.658588776, -78.478091881), (3.049726248, -78.454186132), (2.84322124, -78.445541202), (2.413523355, -78.425490471), (2.191852793, -78.414139452), (1.849187473, -78.394199653), (1.730797282, -78.386869887), (1.509810446, -78.372493071), (1.405806762, -78.365417657), (1.113185905, -78.345280212), (0.943966862, -78.333383035), (0.764379497, -78.321776976), (0.73005815, -78.319613099), (0.664594577, -78.315610277), (0.63534896, -78.313880378), (0.539106387, -78.308417555), (0.45074868, -78.303757443), (0.113509584, -78.284976779), (-0.207625858, -78.267133918), (-0.83334031, -78.206206545), (-1.065924997, -78.179928196), (-1.449875604, -78.125911632), (-1.586886359, -78.10482735), (-1.843429138, -78.061893669), (-1.9656288, -78.039781678), (-2.546485276, -77.928478506), (-2.914665113, -77.838372208), (-3.330367332, -77.733106974), (-3.446176837, -77.702738066), (-3.586243748, -77.666027804), (-3.627318292, -77.655250883), (-3.698237511, -77.636744195), (-3.727677684, -77.629118622), (-3.894219178, -77.586307455), (-4.209129691, -77.507522483), (-4.621197785, -77.404374047), (-4.966045453, -77.314890963), (-5.081761547, -77.284340829), (-5.307399032, -77.223863613), (-5.640671054, -77.133177129), (-5.958569588, -77.043301816), (-6.3690401, -76.92534283), (-6.569336345, -76.86688301), (-7.182238051, -76.685143344), (-7.599606088, -76.557325569), (-8.429873477, -76.293278955), (-8.841288901, -76.157777564), (-10.890638145, -75.460646132), (-12.514573758, -74.835436277), (-15.706026772, -73.455756722), (-17.275815259, -72.700597027), (-21.890382607, -70.242328218), (-24.840585086, -68.345949758), (-30.394739385, -64.064839156), (-32.998609007, -61.680083928), (-37.761620342, -56.464319213), (-39.920617277, -53.633310877), (-43.690890371, -47.586553566), (-45.302087265, -44.370646153), (-47.870223233, -37.640179849), (-48.827104768, -34.12524618), (-49.978597119, -26.91435666), (-50.172989153, -23.218002666), (-49.813728375, -17.658491884), (-49.585534592, -15.803221116), (-49.071422005, -13.036209995), (-48.870846793, -12.115044492), (-48.414877231, -10.293400604), (-48.159605564, -9.392104476), (-47.316449698, -6.721187383), (-46.650942966, -4.984635667), (-45.143678718, -1.623776037), (-44.301508679, 0.000832802), (-43.392795008, 1.558582512)],
                knots=[0, 0, 0, 0, 0.03125, 0.03125, 0.0625, 0.0625, 0.09375, 0.09375, 0.125, 0.125, 0.15625, 0.15625, 0.1875, 0.1875, 0.21875, 0.21875, 0.25, 0.25, 0.28125, 0.28125, 0.3125, 0.3125, 0.34375, 0.34375, 0.375, 0.375, 0.4375, 0.4375, 0.5, 0.5, 0.5625, 0.5625, 0.625, 0.625, 0.65625, 0.65625, 0.671875, 0.671875, 0.67578125, 0.67578125, 0.6796875, 0.6796875, 0.68359375, 0.68359375, 0.685546875, 0.685546875, 0.6875, 0.6875, 0.688476562, 0.688476562, 0.689453125, 0.689453125, 0.69140625, 0.69140625, 0.691894531, 0.691894531, 0.692382812, 0.692382812, 0.693359375, 0.693359375, 0.6953125, 0.6953125, 0.696289062, 0.696289062, 0.696777344, 0.696777344, 0.697265625, 0.697265625, 0.69921875, 0.69921875, 0.700195312, 0.700195312, 0.700683594, 0.700683594, 0.701171875, 0.701171875, 0.703125, 0.705078125, 0.705078125, 0.706054687, 0.706054687, 0.70703125, 0.708984375, 0.708984375, 0.7109375, 0.7109375, 0.71484375, 0.71484375, 0.71875, 0.71875, 0.734375, 0.734375, 0.75, 0.75, 0.78125, 0.78125, 0.8125, 0.8125, 0.84375, 0.84375, 0.875, 0.875, 0.90625, 0.90625, 0.9375, 0.9375, 0.953125, 0.953125, 0.9609375, 0.9609375, 0.96875, 0.96875, 0.984375, 0.984375, 1, 1, 1, 1], degree=3))
            ThreePointArc((-43.392795008, 1.558582512), (-41.917264231, 3.843316747), (-40.240877686, 5.985028621))
        make_face()
    extrude(amount=BOSS_EXTRUDE2_DEPTH, both=True)

    # Sketch7 → Boss-Extrude3 (add, symmetric)
    with BuildSketch(Plane.XY):
        Circle(SKETCH7_R)
        Circle(SKETCH7_R_2, mode=Mode.SUBTRACT)
    extrude(amount=BOSS_EXTRUDE3_DEPTH, both=True)

    # Sketch8 → Cut-Extrude2 (cut, two sides)
    with BuildSketch(Plane.XY) as cut_extrude2_sk:
        with Locations((12.655385599, 42.167672501)):
            Circle(SKETCH8_R)
        Circle(SKETCH8_R_2)
        with BuildLine():
            Line((9.976048944, 32.474429955), (21.605937727, 37.576947657))
            ThreePointArc((21.605937727, 37.576947657), (24.899718531, 36.29203209), (23.614802964, 32.998251286))
            Line((23.614802964, 32.998251286), (11.984914181, 27.895733584))
            ThreePointArc((11.984914181, 27.895733584), (8.691133377, 29.180649151), (9.976048944, 32.474429955))
        make_face()
    extrude(amount=CUT_EXTRUDE2_DEPTH, mode=Mode.SUBTRACT)
    extrude(cut_extrude2_sk.sketch, amount=-CUT_EXTRUDE2_DEPTH_BACK, mode=Mode.SUBTRACT)

    # M4 Clearance Hole1 (through all)
    with Locations(Plane.XY.offset(0.75)):
        with Locations((-13.488047982, -5.9360377), (-3.367538379, -25.076378767), (-25.003814781, -24.270826649)):
            Hole(M4_CLEARANCE_HOLE1_D / 2)

    # M2 Clearance Hole1 (through all)
    with Locations(Plane(origin=(0, 0, -0.75), x_dir=(-1, 0, 0), z_dir=(0, 0, -1))):
        with Locations((7.233951111, 7.840674418), (3.173247673, -10.185122641), (-10.407198784, 2.344448223)):
            Hole(M2_CLEARANCE_HOLE1_D / 2)

    # Sketch15 → Cut-Extrude3 (cut)
    with BuildSketch(Plane.XY.offset(0.75)):
        with Locations((-43.353129439, -41.45965752)):
            Circle(SKETCH15_R)
        with Locations((13.526187427, -74.200894977)):
            Circle(SKETCH15_R)
    extrude(amount=-CUT_EXTRUDE3_DEPTH, mode=Mode.SUBTRACT)

    # Sketch16 → Cut-Extrude4 (cut, through all)
    with BuildSketch(Plane.XY.offset(0.75)):
        with Locations((-5.52301951, -52.247407725)):
            Circle(SKETCH16_R)
        with Locations((5.444897507, -44.593507485)):
            Circle(SKETCH16_R)
        with Locations((10.161083996, -19.103509841)):
            Circle(SKETCH16_R_2)
    extrude(amount=-CUT_EXTRUDE4_DEPTH, mode=Mode.SUBTRACT)

    # Sketch18 → Cut-Extrude5 (cut, through all)
    with BuildSketch(Plane.XY.offset(0.75)):
        with Locations((-12.52460351, -41.04915847)):
            Circle(SKETCH18_R)
        with Locations((0, -39.8190457)):
            Circle(SKETCH18_R)
    extrude(amount=-CUT_EXTRUDE5_DEPTH, mode=Mode.SUBTRACT)


solid = part.part
